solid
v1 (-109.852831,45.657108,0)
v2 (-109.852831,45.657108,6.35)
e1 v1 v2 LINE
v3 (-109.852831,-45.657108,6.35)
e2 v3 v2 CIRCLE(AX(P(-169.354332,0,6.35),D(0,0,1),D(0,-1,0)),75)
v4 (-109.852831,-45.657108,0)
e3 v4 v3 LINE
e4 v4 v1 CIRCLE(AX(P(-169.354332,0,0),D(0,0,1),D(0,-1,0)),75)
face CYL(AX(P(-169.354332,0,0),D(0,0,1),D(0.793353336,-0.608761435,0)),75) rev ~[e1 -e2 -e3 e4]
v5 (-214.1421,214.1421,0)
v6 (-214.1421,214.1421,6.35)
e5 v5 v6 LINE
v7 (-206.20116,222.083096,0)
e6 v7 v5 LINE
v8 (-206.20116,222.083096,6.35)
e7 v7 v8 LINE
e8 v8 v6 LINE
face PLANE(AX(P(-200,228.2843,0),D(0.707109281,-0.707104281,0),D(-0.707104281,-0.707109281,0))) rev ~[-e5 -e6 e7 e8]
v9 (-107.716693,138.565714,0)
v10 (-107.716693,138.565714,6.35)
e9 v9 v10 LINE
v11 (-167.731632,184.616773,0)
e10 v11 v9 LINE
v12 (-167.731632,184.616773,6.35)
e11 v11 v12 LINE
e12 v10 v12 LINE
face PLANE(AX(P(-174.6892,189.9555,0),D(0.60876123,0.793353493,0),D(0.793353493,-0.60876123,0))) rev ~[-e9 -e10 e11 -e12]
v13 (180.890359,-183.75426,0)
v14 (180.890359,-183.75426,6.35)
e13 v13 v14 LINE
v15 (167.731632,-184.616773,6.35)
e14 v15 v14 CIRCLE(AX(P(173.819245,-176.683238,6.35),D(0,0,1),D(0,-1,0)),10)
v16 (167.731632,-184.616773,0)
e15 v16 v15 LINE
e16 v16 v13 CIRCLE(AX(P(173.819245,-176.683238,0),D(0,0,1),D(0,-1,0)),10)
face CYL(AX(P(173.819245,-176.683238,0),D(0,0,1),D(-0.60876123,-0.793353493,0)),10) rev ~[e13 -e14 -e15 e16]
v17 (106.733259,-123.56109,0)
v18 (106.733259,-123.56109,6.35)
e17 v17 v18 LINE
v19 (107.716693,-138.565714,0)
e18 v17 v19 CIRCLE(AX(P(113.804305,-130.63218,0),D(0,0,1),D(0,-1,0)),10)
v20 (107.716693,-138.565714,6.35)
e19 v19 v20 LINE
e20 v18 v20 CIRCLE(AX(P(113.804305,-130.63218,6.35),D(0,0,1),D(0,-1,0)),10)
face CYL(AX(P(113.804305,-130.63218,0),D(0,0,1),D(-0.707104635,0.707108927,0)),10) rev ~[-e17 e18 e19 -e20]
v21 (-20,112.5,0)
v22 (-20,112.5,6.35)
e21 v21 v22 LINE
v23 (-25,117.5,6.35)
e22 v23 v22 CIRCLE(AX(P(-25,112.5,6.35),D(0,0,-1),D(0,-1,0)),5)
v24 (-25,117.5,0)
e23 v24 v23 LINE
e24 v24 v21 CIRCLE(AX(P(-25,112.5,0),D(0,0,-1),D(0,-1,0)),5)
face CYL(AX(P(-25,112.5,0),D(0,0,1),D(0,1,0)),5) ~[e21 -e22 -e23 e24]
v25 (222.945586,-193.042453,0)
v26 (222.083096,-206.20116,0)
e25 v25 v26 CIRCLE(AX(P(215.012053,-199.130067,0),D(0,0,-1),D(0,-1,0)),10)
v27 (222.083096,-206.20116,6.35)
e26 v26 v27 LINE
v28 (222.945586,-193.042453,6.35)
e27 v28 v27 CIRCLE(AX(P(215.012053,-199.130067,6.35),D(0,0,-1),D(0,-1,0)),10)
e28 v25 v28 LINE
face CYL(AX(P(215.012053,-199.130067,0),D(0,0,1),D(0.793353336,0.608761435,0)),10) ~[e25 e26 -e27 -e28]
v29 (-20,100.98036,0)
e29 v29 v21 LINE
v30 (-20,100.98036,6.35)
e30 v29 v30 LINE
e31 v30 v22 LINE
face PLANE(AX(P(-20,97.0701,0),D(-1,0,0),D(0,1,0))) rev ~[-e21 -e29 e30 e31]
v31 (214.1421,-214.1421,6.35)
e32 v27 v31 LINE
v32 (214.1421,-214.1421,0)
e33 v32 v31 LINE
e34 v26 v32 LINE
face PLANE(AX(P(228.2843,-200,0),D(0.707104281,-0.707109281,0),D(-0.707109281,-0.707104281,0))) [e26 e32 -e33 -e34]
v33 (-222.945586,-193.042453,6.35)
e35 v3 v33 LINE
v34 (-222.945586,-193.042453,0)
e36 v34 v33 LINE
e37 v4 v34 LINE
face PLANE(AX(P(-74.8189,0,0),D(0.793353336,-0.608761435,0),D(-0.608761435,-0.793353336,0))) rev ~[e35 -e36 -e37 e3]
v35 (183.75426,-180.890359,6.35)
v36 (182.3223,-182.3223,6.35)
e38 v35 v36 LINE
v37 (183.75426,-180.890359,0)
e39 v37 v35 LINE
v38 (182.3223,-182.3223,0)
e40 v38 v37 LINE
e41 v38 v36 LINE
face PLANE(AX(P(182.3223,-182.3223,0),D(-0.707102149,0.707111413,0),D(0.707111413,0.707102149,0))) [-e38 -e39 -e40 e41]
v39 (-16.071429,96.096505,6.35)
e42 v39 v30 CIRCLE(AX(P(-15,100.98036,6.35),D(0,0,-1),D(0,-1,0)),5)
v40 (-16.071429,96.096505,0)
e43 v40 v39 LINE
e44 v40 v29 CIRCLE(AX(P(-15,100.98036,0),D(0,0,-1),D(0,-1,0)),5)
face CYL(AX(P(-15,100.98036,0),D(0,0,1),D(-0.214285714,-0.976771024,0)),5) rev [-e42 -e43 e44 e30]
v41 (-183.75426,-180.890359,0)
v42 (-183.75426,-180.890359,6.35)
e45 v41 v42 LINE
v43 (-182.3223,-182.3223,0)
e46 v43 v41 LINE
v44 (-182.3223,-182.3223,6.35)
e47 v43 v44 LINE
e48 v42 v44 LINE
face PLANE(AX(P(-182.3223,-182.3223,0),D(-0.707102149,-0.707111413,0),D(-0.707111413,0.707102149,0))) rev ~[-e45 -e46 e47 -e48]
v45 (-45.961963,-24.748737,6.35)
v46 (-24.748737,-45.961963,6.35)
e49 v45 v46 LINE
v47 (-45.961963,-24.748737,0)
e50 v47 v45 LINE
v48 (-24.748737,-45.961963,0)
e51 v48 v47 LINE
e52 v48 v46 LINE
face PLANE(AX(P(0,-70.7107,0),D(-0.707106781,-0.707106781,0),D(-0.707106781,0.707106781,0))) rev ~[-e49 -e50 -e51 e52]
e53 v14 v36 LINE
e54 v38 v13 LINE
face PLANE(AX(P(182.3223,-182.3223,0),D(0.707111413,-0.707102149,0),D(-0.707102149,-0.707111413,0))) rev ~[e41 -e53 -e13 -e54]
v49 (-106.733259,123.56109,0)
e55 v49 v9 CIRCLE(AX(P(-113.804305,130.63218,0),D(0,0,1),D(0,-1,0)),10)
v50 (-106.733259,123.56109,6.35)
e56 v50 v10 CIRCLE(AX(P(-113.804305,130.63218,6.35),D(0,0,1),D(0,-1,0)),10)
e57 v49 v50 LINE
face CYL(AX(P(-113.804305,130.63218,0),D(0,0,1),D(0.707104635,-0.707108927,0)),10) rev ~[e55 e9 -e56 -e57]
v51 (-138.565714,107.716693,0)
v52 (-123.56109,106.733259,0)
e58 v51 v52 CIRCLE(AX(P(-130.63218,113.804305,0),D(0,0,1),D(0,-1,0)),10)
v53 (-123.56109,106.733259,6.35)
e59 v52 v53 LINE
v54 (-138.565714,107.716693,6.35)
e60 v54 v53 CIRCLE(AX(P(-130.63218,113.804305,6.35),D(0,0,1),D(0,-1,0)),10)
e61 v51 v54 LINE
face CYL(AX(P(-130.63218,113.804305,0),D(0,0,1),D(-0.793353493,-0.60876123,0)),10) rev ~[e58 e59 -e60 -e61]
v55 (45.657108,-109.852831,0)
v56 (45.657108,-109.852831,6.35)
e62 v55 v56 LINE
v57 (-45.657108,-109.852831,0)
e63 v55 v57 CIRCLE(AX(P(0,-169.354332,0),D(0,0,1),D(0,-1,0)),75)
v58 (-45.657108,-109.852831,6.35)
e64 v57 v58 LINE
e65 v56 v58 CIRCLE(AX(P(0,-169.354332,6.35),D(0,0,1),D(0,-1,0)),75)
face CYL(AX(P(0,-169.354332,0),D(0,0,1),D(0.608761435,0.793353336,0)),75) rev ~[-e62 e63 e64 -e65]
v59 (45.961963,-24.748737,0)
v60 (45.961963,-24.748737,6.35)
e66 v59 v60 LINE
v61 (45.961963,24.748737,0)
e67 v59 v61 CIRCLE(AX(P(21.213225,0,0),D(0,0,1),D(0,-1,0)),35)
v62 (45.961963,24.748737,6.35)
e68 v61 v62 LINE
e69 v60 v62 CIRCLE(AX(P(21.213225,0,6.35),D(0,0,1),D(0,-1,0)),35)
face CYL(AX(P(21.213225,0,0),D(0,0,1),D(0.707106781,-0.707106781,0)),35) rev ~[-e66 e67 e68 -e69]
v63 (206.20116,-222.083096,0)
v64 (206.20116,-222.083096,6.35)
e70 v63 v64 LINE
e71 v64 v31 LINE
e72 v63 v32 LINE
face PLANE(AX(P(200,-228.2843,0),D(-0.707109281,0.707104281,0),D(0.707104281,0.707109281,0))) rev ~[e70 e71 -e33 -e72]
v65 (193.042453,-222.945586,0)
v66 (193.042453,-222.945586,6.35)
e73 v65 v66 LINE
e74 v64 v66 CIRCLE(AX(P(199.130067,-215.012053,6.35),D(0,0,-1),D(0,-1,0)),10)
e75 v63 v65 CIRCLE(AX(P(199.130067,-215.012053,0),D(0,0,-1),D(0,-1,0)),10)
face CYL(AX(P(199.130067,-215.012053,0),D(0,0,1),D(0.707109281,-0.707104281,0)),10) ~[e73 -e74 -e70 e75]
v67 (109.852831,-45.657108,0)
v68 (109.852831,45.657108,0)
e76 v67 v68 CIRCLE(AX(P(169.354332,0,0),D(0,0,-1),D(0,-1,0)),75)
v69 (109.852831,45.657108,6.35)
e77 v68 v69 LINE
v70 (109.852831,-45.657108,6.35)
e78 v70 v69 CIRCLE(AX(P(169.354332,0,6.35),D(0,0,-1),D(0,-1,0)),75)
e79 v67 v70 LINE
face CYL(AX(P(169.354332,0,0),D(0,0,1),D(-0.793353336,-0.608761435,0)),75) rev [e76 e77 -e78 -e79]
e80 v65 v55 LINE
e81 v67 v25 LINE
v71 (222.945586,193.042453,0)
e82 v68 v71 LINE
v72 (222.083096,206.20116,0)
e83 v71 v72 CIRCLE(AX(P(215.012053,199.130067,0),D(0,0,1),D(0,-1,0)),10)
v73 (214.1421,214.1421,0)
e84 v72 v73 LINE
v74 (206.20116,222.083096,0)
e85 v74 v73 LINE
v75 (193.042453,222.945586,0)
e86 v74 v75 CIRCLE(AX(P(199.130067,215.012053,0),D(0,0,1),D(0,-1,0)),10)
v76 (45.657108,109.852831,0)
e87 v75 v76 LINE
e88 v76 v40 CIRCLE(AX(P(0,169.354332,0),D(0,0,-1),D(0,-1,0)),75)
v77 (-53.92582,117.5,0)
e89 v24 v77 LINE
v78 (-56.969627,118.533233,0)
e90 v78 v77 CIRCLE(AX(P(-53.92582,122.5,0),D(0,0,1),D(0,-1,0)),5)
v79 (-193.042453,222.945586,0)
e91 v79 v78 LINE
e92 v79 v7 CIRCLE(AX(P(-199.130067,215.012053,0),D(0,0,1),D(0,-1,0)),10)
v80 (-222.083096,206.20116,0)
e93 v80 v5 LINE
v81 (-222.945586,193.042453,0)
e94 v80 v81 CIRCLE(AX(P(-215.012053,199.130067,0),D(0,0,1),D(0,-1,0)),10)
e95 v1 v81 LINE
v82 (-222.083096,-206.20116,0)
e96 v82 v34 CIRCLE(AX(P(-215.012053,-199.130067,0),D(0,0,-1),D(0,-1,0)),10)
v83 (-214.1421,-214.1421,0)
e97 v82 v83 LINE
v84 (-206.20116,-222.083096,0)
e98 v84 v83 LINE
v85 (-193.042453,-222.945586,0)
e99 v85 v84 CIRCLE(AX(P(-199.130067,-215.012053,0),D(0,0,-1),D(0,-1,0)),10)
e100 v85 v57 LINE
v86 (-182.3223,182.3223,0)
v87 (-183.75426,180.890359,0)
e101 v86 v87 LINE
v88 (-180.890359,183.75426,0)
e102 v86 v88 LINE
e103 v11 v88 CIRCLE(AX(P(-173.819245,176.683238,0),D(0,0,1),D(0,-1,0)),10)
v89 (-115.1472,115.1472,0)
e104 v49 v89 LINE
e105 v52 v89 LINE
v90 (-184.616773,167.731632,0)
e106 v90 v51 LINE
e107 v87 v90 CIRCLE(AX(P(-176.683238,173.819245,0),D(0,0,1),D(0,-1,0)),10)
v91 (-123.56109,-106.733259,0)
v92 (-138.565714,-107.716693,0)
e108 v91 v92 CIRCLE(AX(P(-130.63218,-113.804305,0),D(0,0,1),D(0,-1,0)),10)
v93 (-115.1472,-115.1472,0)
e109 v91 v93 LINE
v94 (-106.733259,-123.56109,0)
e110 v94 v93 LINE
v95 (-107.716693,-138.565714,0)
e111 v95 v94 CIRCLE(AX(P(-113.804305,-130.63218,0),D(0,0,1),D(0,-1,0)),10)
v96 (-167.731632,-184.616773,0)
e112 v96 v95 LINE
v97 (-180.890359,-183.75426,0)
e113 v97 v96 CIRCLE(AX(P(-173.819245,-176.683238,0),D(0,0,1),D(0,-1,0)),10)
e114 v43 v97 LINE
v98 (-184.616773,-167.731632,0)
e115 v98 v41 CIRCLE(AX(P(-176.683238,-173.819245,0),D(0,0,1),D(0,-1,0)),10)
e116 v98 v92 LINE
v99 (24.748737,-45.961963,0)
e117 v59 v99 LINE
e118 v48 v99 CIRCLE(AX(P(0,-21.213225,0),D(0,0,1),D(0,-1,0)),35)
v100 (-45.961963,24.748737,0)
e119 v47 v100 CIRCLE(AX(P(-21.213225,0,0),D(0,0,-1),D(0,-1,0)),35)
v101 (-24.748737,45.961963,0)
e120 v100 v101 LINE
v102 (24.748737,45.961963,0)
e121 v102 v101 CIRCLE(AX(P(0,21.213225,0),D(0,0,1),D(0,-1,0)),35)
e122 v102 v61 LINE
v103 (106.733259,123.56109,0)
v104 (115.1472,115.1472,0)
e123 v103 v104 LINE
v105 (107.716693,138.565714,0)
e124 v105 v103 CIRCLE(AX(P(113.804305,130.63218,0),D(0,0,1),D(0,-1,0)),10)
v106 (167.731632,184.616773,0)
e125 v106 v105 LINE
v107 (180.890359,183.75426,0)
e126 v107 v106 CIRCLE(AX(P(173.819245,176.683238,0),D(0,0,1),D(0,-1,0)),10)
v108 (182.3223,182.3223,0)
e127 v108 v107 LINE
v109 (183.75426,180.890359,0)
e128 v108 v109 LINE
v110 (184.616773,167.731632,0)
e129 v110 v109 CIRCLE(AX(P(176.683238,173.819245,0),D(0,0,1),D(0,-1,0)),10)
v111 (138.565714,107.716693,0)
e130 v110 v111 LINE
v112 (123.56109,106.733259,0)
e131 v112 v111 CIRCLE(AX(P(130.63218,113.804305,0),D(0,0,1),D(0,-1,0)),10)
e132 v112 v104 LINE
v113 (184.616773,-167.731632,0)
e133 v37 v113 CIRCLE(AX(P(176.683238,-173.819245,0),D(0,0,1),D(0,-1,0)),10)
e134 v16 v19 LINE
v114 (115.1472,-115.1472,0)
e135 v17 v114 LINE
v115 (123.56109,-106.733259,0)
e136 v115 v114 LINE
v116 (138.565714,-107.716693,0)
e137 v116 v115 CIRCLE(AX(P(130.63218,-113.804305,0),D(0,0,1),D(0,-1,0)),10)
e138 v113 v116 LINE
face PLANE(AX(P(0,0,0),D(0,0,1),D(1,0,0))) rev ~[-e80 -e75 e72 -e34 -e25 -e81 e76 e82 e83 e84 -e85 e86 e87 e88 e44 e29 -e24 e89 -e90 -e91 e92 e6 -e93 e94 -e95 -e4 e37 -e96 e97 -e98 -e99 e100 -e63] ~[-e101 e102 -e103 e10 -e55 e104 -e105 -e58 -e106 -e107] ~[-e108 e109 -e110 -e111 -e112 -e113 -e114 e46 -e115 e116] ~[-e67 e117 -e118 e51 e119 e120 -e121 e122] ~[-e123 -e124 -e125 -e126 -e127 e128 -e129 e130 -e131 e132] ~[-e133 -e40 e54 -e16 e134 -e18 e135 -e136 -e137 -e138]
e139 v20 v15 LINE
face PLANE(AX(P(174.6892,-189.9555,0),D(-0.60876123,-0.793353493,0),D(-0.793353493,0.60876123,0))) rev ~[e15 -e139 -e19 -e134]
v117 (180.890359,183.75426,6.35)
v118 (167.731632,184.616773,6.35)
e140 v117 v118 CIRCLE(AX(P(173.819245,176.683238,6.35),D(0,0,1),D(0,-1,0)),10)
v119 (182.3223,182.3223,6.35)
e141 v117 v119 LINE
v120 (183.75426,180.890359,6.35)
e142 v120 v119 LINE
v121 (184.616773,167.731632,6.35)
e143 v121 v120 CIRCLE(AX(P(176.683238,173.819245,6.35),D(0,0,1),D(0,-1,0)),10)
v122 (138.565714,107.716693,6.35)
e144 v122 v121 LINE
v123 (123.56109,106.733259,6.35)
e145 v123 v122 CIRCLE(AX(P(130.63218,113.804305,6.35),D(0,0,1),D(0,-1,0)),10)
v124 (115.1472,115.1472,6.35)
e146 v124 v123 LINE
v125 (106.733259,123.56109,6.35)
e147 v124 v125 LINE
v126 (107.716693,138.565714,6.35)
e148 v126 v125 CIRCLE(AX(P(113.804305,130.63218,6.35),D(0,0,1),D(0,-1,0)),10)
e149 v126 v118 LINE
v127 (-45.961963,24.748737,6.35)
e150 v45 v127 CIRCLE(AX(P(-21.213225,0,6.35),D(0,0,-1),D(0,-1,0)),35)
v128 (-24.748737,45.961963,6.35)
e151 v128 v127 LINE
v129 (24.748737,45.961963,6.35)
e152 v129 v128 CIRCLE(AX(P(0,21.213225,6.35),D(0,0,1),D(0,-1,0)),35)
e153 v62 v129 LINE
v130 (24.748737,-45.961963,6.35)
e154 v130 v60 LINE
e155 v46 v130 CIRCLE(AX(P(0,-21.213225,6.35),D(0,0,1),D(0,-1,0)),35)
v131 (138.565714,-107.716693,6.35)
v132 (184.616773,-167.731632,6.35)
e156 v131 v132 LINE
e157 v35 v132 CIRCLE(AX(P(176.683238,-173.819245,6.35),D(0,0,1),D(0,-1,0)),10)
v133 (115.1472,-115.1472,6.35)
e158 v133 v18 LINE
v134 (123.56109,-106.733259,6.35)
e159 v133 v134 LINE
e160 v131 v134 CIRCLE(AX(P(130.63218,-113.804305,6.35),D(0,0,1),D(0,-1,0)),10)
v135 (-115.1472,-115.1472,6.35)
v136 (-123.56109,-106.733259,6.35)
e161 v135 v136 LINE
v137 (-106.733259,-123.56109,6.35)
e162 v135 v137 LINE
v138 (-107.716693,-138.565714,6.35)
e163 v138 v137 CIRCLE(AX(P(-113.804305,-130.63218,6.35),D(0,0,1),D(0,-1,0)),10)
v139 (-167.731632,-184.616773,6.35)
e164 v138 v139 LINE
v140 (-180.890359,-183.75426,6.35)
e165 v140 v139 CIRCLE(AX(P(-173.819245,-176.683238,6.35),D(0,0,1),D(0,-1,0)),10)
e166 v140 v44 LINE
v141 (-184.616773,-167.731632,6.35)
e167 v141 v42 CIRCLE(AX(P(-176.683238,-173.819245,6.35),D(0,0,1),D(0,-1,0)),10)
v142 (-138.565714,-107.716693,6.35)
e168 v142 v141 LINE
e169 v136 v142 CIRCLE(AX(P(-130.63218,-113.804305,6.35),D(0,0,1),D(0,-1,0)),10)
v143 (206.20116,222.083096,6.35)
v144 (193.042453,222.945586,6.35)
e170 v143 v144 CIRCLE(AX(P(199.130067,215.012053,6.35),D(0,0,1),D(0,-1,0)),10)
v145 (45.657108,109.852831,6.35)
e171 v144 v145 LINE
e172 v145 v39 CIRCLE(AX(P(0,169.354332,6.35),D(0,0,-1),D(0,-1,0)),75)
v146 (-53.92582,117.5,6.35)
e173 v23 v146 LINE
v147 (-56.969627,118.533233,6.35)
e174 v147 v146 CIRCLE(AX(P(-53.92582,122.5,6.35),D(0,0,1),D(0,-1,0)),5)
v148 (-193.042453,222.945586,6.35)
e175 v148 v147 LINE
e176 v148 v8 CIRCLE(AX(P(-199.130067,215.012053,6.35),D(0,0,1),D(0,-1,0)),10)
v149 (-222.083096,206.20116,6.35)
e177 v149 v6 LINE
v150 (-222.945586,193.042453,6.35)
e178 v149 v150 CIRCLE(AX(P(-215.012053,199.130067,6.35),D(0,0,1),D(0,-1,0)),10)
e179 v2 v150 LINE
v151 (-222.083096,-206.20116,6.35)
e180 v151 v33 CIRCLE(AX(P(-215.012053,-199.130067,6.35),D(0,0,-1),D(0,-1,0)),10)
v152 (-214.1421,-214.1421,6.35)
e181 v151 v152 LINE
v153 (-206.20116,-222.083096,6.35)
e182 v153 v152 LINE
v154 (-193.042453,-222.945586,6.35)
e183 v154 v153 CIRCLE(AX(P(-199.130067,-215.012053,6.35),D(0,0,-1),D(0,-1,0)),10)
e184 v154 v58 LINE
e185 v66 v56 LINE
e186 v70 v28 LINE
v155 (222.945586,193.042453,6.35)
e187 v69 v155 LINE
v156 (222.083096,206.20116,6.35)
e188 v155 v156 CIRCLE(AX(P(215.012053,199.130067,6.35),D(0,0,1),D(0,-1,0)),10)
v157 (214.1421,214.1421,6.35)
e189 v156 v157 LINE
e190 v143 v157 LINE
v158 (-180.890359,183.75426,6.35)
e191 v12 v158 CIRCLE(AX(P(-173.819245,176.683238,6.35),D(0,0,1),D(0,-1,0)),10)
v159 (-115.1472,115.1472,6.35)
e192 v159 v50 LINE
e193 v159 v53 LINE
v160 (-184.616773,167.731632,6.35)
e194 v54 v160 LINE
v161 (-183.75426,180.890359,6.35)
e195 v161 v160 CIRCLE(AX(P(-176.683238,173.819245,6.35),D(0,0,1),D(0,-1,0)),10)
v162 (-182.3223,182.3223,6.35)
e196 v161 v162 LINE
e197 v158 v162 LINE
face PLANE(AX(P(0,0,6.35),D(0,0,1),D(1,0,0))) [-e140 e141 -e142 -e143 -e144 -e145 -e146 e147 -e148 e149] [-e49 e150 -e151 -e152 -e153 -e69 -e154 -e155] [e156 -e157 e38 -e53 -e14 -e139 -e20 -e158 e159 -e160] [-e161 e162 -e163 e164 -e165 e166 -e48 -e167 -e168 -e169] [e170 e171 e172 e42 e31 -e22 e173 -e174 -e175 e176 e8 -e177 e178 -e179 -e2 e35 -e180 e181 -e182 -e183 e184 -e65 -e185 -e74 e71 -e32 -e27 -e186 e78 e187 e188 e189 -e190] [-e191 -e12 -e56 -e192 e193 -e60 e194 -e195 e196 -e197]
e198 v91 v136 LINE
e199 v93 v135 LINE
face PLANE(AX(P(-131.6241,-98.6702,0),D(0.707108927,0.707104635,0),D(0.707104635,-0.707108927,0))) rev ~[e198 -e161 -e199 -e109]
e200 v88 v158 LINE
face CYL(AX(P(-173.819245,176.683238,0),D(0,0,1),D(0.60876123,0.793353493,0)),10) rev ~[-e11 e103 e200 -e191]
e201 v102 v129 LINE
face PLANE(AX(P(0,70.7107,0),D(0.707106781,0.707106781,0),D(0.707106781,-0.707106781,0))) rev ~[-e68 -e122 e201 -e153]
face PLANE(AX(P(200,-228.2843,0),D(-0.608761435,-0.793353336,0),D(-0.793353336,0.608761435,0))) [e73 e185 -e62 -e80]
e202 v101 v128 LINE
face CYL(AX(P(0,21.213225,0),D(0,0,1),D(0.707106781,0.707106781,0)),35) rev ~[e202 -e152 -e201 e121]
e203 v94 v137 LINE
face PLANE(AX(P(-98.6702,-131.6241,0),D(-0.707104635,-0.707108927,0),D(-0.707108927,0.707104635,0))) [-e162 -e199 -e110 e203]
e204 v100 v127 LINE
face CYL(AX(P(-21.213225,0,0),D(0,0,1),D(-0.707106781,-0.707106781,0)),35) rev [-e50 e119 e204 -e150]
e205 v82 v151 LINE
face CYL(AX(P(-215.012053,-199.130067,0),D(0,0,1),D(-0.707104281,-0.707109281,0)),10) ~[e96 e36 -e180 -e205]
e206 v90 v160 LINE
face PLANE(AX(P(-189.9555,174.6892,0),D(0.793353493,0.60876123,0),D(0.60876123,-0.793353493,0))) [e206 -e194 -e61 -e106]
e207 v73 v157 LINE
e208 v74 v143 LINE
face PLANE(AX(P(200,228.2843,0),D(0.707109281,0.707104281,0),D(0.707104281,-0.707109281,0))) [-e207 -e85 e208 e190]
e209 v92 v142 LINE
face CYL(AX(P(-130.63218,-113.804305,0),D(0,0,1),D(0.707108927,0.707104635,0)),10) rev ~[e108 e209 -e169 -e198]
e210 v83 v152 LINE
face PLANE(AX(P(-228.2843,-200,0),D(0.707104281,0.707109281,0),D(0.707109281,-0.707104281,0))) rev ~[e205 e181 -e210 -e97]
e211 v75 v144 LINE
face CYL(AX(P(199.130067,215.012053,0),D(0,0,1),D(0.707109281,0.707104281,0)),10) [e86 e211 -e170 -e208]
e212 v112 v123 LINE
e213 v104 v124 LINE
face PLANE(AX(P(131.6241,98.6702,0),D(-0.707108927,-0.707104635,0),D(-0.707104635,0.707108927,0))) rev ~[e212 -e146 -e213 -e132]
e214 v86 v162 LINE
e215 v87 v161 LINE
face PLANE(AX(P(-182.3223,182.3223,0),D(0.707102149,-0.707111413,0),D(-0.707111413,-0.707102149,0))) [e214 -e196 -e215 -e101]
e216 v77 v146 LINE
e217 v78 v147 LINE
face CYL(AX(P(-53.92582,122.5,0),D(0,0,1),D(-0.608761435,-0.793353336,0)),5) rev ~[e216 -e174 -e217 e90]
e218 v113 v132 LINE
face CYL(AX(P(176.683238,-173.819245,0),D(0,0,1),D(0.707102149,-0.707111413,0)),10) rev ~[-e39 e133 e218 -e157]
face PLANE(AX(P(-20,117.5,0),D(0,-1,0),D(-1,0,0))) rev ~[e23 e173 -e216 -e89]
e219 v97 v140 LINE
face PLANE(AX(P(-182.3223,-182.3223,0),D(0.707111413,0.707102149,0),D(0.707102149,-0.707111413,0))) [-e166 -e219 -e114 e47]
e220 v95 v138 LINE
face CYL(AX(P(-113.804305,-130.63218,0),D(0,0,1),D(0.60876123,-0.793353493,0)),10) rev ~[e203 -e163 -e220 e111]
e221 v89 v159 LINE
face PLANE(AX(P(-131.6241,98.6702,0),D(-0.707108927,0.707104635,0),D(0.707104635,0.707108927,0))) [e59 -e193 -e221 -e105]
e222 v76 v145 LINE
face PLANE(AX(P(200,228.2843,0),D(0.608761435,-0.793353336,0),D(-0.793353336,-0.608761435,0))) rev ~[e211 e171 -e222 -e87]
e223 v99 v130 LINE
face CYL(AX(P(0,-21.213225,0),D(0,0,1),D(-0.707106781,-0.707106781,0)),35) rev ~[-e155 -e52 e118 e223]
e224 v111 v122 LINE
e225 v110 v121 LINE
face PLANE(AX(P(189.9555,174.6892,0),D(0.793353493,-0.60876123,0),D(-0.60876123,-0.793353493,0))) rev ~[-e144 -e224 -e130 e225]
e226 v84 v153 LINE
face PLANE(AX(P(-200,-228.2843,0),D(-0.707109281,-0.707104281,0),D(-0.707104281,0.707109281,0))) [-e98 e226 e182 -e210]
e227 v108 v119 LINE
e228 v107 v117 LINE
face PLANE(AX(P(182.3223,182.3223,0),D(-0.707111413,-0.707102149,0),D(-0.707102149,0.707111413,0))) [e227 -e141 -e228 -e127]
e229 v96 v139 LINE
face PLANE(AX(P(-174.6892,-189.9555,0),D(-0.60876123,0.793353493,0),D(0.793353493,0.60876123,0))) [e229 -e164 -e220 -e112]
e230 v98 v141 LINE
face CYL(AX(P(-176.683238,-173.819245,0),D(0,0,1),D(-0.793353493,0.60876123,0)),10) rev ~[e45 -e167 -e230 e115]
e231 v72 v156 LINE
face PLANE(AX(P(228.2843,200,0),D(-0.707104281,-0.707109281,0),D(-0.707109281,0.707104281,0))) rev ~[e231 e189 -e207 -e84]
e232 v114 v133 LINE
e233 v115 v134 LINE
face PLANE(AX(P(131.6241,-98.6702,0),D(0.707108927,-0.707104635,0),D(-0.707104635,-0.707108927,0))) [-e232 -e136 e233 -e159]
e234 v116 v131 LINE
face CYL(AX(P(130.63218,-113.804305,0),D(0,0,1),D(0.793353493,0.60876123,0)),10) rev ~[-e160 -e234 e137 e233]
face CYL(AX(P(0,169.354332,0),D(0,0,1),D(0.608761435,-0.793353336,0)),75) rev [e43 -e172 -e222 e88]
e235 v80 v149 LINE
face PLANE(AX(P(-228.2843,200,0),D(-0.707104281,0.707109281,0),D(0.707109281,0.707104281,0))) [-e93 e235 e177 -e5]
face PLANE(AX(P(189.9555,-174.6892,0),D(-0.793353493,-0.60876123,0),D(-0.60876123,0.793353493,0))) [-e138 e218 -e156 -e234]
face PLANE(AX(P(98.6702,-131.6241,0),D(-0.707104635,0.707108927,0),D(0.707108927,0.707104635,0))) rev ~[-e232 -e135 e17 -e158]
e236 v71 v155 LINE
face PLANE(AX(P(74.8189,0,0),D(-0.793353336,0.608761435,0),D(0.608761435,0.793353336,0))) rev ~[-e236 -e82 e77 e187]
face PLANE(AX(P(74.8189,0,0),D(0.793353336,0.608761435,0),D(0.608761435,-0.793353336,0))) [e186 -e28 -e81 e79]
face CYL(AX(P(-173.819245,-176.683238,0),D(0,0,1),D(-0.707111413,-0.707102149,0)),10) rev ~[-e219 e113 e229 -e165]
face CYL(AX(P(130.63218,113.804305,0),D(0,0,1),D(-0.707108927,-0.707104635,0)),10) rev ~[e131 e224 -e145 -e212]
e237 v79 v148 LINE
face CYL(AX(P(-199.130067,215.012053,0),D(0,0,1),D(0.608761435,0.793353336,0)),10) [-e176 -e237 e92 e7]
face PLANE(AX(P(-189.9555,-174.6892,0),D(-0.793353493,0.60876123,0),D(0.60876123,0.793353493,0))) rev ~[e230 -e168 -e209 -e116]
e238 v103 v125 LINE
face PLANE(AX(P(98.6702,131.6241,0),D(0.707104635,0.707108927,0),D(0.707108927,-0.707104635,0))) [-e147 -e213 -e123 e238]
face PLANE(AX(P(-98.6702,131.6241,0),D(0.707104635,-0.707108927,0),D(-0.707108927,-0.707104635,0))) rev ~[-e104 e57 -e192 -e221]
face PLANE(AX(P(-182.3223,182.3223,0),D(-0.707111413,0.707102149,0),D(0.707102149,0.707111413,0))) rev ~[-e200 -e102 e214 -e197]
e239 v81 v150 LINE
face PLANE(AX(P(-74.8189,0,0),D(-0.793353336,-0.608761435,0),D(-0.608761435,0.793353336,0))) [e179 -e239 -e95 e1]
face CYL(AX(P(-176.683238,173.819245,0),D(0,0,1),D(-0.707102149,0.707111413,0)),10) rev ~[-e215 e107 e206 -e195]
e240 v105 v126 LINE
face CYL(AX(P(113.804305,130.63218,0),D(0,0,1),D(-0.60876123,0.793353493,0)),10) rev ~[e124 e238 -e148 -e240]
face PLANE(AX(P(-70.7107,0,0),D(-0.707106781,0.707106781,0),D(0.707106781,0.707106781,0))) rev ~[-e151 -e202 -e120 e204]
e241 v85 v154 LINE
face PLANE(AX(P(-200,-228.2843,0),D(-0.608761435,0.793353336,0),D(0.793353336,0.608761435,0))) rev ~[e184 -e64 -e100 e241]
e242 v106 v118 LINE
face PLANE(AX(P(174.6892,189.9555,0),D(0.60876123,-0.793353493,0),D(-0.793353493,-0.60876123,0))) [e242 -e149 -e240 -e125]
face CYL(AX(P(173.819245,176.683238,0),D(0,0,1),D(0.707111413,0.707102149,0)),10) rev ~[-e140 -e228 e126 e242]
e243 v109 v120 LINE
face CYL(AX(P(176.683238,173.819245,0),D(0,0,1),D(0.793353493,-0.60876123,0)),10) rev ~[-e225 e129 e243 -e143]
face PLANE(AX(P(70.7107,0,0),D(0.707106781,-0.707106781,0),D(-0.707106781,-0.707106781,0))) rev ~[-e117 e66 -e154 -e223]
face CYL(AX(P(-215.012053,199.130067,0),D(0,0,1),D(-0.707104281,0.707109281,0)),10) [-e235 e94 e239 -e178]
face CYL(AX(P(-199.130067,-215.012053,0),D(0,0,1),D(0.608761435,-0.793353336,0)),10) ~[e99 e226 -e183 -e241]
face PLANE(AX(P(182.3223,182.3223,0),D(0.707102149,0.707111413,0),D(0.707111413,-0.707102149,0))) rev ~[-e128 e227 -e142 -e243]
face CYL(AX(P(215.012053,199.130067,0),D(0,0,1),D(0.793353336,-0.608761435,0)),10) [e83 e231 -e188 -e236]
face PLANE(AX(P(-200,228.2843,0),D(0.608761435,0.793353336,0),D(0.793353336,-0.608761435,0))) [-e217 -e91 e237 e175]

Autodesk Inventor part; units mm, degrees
ref_plane "YZ Plane" through (0, 0, 0) normal (1, 0, 0) x (0, 1, 0)
ref_plane "XZ Plane" through (0, 0, 0) normal (0, 1, 0) x (-1, 0, 0)
ref_plane "XY Plane" through (0, 0, 0) normal (0, 0, 1) x (1, 0, 0)
sketch "Plate" plane through (0, 0, 0) normal (0, 0, 1) x (1, 0, 0)
  line L0 (-200, -200) -> (200, -200) construction
  line L1 (200, -200) -> (200, 200) construction
  line L2 (200, 200) -> (-200, 200) construction
  line L3 (-200, 200) -> (-200, -200) construction
  line L4 (-200, -200) -> (200, 200) construction
  line L5 (200, -200) -> (-200, 200) construction
  line L6 (0, 0) -> (0, 420.657) construction
  line L7 (0, 0) -> (461.6465, 0) construction
  line L8 (0, 202) -> (202, 202) construction
  line L9 (202, 202) -> (202, 0) construction
  line L10 (74.8189, 0) -> (251.7605, 230.5948) construction
  line L11 (254.8388, 145.1612) -> (158.001, 241.999) construction
  line L12 (252.9755, 175.3088) -> (179.3809, 248.9034) construction
  line L13 (74.8189, 0) -> (228.2843, 200)
  line L14 (200, 200) -> (231.4665, 231.4665) construction
  line L15 (228.2843, 200) -> (214.1421, 214.1421)
  line L16 (200, 228.2843) -> (214.1421, 214.1421)
  line L17 (200, 228.2843) -> (0, 74.8189)
  line L18 (-74.8189, 0) -> (-228.2843, 200)
  line L19 (-228.2843, 200) -> (-214.1421, 214.1421)
  line L20 (-200, 228.2843) -> (-214.1421, 214.1421)
  line L21 (-200, 228.2843) -> (0, 74.8189)
  line L22 (74.8189, 0) -> (228.2843, -200)
  line L23 (228.2843, -200) -> (214.1421, -214.1421)
  line L24 (200, -228.2843) -> (214.1421, -214.1421)
  line L25 (200, -228.2843) -> (0, -74.8189)
  line L26 (-200, -228.2843) -> (0, -74.8189)
  line L27 (-200, -228.2843) -> (-214.1421, -214.1421)
  line L28 (-228.2843, -200) -> (-214.1421, -214.1421)
  line L29 (-74.8189, 0) -> (-228.2843, -200)
  dimension "d136" = 10
  dimension "d12" = 200
  dimension "d79" = 200
  dimension "d80" = 2
  dimension "d81" = 2
  dimension "d83" = 20
  dimension "d84" = 7.5
  dimension "d85" = 20
  dimension "d86" = 7.5
extrude "Base" add sketch "Plate" along normal blind 6.35
sketch "Sketch3" plane through (0, 0, 0) normal (0, 0, 1) x (1, 0, 0)
  line L0 (-70.7107, 0) -> (0, 70.7107)
  line L1 (0, 70.7107) -> (70.7107, 0)
  line L2 (70.7107, 0) -> (0, -70.7107)
  line L3 (0, -70.7107) -> (-70.7107, 0)
  line L4 (-70.7107, 0) -> (70.7107, 0) construction
  line L5 (0, 70.7107) -> (0, -70.7107) construction
  point P0 (0, 0)
  dimension "d76" = 90
  dimension "d77" = 100
extrude "Center hole" cut sketch "Sketch3" along normal through all
fillet "Fillet2" radius 75 4 edges at (0, 74.8189, 3.175) (-74.8189, 0, 3.175) (0, -74.8189, 3.175) (74.8189, 0, 3.175)
fillet "Fillet3" radius 35 4 edges at (-70.7107, 0, 3.175) (0, 70.7107, 3.175) (70.7107, 0, 3.175) (0, -70.7107, 3.175)
fillet "Fillet4" radius 10 8 edges at (200, 228.2843, 3.175) (228.2843, 200, 3.175) (228.2843, -200, 3.175) (200, -228.2843, 3.175) (-200, -228.2843, 3.175) (-228.2843, -200, 3.175) (-200, 228.2843, 3.175) (-228.2843, 200, 3.175)
sketch "Sketch17" plane through (0, 0, 0) normal (0, 0, 1) x (1, 0, 0)
  line L0 (-200, -200) -> (200, 200) construction
  line L1 (254.8388, 145.1612) -> (158.001, 241.999) construction
  line L2 (182.3223, 182.3223) -> (174.6892, 189.9555)
  line L3 (174.6892, 189.9555) -> (98.6702, 131.6241)
  line L4 (98.6702, 131.6241) -> (115.1472, 115.1472)
  line L5 (193.0425, 222.9456) -> (45.6571, 109.8528) construction
  line L6 (182.3223, 182.3223) -> (189.9555, 174.6892)
  line L7 (189.9555, 174.6892) -> (131.6241, 98.6702)
  line L8 (131.6241, 98.6702) -> (115.1472, 115.1472)
  point P0 (0, 0)
  dimension "d133" = 15
  dimension "d134" = 25
  dimension "d135" = 95
extrude "Extrusion4" cut sketch "Sketch17" along normal through all
fillet "Fillet5" radius 10 4 edges at (174.6892, 189.9555, 3.175) (189.9555, 174.6892, 3.175) (131.6241, 98.6702, 3.175) (98.6702, 131.6241, 3.175)
pattern_circular "Circular Pattern2" count 4 over 360 about axis through (0, 0, -10) along (0, 0, 1) of "Extrusion4", "Fillet5"
sketch "Sketch18" plane through (0, 0, 0) normal (0, 0, 1) x (1, 0, 0)
  arc A0 (-45.6571, 109.8528) -> (45.6571, 109.8528) centre (0, 169.3543) ccw construction
  line L0 (-20, 97.0701) -> (-20, 117.5)
  line L1 (-20, 117.5) -> (-55.6231, 117.5)
  line L2 (-69.5, 100.125) -> (-72.5, 100.125) projected
  arc A1 (-69.5, 92.875) -> (-69.5, 98.125) centre (-69.5, 95.5) ccw construction
  line L3 (-45.6571, 109.8528) -> (-193.0425, 222.9456) construction
  line L4 (-55.6231, 117.5) -> (-45.6571, 109.8528)
  arc A2 (-45.6571, 109.8528) -> (-20, 97.0701) centre (0, 169.3543) ccw
  point P0 (0, 0)
  dimension "d144" = 20
  dimension "d146" = 22
extrude "Limit nub" add sketch "Sketch18" along normal up to surface (6.35 mm away)
fillet "Fillet6" radius 5 3 edges at (-55.6231, 117.5, 3.175) (-20, 97.0701, 3.175) (-20, 117.5, 3.175)
properties part number "6061 Bed no holes" material "Aluminum 6061"
